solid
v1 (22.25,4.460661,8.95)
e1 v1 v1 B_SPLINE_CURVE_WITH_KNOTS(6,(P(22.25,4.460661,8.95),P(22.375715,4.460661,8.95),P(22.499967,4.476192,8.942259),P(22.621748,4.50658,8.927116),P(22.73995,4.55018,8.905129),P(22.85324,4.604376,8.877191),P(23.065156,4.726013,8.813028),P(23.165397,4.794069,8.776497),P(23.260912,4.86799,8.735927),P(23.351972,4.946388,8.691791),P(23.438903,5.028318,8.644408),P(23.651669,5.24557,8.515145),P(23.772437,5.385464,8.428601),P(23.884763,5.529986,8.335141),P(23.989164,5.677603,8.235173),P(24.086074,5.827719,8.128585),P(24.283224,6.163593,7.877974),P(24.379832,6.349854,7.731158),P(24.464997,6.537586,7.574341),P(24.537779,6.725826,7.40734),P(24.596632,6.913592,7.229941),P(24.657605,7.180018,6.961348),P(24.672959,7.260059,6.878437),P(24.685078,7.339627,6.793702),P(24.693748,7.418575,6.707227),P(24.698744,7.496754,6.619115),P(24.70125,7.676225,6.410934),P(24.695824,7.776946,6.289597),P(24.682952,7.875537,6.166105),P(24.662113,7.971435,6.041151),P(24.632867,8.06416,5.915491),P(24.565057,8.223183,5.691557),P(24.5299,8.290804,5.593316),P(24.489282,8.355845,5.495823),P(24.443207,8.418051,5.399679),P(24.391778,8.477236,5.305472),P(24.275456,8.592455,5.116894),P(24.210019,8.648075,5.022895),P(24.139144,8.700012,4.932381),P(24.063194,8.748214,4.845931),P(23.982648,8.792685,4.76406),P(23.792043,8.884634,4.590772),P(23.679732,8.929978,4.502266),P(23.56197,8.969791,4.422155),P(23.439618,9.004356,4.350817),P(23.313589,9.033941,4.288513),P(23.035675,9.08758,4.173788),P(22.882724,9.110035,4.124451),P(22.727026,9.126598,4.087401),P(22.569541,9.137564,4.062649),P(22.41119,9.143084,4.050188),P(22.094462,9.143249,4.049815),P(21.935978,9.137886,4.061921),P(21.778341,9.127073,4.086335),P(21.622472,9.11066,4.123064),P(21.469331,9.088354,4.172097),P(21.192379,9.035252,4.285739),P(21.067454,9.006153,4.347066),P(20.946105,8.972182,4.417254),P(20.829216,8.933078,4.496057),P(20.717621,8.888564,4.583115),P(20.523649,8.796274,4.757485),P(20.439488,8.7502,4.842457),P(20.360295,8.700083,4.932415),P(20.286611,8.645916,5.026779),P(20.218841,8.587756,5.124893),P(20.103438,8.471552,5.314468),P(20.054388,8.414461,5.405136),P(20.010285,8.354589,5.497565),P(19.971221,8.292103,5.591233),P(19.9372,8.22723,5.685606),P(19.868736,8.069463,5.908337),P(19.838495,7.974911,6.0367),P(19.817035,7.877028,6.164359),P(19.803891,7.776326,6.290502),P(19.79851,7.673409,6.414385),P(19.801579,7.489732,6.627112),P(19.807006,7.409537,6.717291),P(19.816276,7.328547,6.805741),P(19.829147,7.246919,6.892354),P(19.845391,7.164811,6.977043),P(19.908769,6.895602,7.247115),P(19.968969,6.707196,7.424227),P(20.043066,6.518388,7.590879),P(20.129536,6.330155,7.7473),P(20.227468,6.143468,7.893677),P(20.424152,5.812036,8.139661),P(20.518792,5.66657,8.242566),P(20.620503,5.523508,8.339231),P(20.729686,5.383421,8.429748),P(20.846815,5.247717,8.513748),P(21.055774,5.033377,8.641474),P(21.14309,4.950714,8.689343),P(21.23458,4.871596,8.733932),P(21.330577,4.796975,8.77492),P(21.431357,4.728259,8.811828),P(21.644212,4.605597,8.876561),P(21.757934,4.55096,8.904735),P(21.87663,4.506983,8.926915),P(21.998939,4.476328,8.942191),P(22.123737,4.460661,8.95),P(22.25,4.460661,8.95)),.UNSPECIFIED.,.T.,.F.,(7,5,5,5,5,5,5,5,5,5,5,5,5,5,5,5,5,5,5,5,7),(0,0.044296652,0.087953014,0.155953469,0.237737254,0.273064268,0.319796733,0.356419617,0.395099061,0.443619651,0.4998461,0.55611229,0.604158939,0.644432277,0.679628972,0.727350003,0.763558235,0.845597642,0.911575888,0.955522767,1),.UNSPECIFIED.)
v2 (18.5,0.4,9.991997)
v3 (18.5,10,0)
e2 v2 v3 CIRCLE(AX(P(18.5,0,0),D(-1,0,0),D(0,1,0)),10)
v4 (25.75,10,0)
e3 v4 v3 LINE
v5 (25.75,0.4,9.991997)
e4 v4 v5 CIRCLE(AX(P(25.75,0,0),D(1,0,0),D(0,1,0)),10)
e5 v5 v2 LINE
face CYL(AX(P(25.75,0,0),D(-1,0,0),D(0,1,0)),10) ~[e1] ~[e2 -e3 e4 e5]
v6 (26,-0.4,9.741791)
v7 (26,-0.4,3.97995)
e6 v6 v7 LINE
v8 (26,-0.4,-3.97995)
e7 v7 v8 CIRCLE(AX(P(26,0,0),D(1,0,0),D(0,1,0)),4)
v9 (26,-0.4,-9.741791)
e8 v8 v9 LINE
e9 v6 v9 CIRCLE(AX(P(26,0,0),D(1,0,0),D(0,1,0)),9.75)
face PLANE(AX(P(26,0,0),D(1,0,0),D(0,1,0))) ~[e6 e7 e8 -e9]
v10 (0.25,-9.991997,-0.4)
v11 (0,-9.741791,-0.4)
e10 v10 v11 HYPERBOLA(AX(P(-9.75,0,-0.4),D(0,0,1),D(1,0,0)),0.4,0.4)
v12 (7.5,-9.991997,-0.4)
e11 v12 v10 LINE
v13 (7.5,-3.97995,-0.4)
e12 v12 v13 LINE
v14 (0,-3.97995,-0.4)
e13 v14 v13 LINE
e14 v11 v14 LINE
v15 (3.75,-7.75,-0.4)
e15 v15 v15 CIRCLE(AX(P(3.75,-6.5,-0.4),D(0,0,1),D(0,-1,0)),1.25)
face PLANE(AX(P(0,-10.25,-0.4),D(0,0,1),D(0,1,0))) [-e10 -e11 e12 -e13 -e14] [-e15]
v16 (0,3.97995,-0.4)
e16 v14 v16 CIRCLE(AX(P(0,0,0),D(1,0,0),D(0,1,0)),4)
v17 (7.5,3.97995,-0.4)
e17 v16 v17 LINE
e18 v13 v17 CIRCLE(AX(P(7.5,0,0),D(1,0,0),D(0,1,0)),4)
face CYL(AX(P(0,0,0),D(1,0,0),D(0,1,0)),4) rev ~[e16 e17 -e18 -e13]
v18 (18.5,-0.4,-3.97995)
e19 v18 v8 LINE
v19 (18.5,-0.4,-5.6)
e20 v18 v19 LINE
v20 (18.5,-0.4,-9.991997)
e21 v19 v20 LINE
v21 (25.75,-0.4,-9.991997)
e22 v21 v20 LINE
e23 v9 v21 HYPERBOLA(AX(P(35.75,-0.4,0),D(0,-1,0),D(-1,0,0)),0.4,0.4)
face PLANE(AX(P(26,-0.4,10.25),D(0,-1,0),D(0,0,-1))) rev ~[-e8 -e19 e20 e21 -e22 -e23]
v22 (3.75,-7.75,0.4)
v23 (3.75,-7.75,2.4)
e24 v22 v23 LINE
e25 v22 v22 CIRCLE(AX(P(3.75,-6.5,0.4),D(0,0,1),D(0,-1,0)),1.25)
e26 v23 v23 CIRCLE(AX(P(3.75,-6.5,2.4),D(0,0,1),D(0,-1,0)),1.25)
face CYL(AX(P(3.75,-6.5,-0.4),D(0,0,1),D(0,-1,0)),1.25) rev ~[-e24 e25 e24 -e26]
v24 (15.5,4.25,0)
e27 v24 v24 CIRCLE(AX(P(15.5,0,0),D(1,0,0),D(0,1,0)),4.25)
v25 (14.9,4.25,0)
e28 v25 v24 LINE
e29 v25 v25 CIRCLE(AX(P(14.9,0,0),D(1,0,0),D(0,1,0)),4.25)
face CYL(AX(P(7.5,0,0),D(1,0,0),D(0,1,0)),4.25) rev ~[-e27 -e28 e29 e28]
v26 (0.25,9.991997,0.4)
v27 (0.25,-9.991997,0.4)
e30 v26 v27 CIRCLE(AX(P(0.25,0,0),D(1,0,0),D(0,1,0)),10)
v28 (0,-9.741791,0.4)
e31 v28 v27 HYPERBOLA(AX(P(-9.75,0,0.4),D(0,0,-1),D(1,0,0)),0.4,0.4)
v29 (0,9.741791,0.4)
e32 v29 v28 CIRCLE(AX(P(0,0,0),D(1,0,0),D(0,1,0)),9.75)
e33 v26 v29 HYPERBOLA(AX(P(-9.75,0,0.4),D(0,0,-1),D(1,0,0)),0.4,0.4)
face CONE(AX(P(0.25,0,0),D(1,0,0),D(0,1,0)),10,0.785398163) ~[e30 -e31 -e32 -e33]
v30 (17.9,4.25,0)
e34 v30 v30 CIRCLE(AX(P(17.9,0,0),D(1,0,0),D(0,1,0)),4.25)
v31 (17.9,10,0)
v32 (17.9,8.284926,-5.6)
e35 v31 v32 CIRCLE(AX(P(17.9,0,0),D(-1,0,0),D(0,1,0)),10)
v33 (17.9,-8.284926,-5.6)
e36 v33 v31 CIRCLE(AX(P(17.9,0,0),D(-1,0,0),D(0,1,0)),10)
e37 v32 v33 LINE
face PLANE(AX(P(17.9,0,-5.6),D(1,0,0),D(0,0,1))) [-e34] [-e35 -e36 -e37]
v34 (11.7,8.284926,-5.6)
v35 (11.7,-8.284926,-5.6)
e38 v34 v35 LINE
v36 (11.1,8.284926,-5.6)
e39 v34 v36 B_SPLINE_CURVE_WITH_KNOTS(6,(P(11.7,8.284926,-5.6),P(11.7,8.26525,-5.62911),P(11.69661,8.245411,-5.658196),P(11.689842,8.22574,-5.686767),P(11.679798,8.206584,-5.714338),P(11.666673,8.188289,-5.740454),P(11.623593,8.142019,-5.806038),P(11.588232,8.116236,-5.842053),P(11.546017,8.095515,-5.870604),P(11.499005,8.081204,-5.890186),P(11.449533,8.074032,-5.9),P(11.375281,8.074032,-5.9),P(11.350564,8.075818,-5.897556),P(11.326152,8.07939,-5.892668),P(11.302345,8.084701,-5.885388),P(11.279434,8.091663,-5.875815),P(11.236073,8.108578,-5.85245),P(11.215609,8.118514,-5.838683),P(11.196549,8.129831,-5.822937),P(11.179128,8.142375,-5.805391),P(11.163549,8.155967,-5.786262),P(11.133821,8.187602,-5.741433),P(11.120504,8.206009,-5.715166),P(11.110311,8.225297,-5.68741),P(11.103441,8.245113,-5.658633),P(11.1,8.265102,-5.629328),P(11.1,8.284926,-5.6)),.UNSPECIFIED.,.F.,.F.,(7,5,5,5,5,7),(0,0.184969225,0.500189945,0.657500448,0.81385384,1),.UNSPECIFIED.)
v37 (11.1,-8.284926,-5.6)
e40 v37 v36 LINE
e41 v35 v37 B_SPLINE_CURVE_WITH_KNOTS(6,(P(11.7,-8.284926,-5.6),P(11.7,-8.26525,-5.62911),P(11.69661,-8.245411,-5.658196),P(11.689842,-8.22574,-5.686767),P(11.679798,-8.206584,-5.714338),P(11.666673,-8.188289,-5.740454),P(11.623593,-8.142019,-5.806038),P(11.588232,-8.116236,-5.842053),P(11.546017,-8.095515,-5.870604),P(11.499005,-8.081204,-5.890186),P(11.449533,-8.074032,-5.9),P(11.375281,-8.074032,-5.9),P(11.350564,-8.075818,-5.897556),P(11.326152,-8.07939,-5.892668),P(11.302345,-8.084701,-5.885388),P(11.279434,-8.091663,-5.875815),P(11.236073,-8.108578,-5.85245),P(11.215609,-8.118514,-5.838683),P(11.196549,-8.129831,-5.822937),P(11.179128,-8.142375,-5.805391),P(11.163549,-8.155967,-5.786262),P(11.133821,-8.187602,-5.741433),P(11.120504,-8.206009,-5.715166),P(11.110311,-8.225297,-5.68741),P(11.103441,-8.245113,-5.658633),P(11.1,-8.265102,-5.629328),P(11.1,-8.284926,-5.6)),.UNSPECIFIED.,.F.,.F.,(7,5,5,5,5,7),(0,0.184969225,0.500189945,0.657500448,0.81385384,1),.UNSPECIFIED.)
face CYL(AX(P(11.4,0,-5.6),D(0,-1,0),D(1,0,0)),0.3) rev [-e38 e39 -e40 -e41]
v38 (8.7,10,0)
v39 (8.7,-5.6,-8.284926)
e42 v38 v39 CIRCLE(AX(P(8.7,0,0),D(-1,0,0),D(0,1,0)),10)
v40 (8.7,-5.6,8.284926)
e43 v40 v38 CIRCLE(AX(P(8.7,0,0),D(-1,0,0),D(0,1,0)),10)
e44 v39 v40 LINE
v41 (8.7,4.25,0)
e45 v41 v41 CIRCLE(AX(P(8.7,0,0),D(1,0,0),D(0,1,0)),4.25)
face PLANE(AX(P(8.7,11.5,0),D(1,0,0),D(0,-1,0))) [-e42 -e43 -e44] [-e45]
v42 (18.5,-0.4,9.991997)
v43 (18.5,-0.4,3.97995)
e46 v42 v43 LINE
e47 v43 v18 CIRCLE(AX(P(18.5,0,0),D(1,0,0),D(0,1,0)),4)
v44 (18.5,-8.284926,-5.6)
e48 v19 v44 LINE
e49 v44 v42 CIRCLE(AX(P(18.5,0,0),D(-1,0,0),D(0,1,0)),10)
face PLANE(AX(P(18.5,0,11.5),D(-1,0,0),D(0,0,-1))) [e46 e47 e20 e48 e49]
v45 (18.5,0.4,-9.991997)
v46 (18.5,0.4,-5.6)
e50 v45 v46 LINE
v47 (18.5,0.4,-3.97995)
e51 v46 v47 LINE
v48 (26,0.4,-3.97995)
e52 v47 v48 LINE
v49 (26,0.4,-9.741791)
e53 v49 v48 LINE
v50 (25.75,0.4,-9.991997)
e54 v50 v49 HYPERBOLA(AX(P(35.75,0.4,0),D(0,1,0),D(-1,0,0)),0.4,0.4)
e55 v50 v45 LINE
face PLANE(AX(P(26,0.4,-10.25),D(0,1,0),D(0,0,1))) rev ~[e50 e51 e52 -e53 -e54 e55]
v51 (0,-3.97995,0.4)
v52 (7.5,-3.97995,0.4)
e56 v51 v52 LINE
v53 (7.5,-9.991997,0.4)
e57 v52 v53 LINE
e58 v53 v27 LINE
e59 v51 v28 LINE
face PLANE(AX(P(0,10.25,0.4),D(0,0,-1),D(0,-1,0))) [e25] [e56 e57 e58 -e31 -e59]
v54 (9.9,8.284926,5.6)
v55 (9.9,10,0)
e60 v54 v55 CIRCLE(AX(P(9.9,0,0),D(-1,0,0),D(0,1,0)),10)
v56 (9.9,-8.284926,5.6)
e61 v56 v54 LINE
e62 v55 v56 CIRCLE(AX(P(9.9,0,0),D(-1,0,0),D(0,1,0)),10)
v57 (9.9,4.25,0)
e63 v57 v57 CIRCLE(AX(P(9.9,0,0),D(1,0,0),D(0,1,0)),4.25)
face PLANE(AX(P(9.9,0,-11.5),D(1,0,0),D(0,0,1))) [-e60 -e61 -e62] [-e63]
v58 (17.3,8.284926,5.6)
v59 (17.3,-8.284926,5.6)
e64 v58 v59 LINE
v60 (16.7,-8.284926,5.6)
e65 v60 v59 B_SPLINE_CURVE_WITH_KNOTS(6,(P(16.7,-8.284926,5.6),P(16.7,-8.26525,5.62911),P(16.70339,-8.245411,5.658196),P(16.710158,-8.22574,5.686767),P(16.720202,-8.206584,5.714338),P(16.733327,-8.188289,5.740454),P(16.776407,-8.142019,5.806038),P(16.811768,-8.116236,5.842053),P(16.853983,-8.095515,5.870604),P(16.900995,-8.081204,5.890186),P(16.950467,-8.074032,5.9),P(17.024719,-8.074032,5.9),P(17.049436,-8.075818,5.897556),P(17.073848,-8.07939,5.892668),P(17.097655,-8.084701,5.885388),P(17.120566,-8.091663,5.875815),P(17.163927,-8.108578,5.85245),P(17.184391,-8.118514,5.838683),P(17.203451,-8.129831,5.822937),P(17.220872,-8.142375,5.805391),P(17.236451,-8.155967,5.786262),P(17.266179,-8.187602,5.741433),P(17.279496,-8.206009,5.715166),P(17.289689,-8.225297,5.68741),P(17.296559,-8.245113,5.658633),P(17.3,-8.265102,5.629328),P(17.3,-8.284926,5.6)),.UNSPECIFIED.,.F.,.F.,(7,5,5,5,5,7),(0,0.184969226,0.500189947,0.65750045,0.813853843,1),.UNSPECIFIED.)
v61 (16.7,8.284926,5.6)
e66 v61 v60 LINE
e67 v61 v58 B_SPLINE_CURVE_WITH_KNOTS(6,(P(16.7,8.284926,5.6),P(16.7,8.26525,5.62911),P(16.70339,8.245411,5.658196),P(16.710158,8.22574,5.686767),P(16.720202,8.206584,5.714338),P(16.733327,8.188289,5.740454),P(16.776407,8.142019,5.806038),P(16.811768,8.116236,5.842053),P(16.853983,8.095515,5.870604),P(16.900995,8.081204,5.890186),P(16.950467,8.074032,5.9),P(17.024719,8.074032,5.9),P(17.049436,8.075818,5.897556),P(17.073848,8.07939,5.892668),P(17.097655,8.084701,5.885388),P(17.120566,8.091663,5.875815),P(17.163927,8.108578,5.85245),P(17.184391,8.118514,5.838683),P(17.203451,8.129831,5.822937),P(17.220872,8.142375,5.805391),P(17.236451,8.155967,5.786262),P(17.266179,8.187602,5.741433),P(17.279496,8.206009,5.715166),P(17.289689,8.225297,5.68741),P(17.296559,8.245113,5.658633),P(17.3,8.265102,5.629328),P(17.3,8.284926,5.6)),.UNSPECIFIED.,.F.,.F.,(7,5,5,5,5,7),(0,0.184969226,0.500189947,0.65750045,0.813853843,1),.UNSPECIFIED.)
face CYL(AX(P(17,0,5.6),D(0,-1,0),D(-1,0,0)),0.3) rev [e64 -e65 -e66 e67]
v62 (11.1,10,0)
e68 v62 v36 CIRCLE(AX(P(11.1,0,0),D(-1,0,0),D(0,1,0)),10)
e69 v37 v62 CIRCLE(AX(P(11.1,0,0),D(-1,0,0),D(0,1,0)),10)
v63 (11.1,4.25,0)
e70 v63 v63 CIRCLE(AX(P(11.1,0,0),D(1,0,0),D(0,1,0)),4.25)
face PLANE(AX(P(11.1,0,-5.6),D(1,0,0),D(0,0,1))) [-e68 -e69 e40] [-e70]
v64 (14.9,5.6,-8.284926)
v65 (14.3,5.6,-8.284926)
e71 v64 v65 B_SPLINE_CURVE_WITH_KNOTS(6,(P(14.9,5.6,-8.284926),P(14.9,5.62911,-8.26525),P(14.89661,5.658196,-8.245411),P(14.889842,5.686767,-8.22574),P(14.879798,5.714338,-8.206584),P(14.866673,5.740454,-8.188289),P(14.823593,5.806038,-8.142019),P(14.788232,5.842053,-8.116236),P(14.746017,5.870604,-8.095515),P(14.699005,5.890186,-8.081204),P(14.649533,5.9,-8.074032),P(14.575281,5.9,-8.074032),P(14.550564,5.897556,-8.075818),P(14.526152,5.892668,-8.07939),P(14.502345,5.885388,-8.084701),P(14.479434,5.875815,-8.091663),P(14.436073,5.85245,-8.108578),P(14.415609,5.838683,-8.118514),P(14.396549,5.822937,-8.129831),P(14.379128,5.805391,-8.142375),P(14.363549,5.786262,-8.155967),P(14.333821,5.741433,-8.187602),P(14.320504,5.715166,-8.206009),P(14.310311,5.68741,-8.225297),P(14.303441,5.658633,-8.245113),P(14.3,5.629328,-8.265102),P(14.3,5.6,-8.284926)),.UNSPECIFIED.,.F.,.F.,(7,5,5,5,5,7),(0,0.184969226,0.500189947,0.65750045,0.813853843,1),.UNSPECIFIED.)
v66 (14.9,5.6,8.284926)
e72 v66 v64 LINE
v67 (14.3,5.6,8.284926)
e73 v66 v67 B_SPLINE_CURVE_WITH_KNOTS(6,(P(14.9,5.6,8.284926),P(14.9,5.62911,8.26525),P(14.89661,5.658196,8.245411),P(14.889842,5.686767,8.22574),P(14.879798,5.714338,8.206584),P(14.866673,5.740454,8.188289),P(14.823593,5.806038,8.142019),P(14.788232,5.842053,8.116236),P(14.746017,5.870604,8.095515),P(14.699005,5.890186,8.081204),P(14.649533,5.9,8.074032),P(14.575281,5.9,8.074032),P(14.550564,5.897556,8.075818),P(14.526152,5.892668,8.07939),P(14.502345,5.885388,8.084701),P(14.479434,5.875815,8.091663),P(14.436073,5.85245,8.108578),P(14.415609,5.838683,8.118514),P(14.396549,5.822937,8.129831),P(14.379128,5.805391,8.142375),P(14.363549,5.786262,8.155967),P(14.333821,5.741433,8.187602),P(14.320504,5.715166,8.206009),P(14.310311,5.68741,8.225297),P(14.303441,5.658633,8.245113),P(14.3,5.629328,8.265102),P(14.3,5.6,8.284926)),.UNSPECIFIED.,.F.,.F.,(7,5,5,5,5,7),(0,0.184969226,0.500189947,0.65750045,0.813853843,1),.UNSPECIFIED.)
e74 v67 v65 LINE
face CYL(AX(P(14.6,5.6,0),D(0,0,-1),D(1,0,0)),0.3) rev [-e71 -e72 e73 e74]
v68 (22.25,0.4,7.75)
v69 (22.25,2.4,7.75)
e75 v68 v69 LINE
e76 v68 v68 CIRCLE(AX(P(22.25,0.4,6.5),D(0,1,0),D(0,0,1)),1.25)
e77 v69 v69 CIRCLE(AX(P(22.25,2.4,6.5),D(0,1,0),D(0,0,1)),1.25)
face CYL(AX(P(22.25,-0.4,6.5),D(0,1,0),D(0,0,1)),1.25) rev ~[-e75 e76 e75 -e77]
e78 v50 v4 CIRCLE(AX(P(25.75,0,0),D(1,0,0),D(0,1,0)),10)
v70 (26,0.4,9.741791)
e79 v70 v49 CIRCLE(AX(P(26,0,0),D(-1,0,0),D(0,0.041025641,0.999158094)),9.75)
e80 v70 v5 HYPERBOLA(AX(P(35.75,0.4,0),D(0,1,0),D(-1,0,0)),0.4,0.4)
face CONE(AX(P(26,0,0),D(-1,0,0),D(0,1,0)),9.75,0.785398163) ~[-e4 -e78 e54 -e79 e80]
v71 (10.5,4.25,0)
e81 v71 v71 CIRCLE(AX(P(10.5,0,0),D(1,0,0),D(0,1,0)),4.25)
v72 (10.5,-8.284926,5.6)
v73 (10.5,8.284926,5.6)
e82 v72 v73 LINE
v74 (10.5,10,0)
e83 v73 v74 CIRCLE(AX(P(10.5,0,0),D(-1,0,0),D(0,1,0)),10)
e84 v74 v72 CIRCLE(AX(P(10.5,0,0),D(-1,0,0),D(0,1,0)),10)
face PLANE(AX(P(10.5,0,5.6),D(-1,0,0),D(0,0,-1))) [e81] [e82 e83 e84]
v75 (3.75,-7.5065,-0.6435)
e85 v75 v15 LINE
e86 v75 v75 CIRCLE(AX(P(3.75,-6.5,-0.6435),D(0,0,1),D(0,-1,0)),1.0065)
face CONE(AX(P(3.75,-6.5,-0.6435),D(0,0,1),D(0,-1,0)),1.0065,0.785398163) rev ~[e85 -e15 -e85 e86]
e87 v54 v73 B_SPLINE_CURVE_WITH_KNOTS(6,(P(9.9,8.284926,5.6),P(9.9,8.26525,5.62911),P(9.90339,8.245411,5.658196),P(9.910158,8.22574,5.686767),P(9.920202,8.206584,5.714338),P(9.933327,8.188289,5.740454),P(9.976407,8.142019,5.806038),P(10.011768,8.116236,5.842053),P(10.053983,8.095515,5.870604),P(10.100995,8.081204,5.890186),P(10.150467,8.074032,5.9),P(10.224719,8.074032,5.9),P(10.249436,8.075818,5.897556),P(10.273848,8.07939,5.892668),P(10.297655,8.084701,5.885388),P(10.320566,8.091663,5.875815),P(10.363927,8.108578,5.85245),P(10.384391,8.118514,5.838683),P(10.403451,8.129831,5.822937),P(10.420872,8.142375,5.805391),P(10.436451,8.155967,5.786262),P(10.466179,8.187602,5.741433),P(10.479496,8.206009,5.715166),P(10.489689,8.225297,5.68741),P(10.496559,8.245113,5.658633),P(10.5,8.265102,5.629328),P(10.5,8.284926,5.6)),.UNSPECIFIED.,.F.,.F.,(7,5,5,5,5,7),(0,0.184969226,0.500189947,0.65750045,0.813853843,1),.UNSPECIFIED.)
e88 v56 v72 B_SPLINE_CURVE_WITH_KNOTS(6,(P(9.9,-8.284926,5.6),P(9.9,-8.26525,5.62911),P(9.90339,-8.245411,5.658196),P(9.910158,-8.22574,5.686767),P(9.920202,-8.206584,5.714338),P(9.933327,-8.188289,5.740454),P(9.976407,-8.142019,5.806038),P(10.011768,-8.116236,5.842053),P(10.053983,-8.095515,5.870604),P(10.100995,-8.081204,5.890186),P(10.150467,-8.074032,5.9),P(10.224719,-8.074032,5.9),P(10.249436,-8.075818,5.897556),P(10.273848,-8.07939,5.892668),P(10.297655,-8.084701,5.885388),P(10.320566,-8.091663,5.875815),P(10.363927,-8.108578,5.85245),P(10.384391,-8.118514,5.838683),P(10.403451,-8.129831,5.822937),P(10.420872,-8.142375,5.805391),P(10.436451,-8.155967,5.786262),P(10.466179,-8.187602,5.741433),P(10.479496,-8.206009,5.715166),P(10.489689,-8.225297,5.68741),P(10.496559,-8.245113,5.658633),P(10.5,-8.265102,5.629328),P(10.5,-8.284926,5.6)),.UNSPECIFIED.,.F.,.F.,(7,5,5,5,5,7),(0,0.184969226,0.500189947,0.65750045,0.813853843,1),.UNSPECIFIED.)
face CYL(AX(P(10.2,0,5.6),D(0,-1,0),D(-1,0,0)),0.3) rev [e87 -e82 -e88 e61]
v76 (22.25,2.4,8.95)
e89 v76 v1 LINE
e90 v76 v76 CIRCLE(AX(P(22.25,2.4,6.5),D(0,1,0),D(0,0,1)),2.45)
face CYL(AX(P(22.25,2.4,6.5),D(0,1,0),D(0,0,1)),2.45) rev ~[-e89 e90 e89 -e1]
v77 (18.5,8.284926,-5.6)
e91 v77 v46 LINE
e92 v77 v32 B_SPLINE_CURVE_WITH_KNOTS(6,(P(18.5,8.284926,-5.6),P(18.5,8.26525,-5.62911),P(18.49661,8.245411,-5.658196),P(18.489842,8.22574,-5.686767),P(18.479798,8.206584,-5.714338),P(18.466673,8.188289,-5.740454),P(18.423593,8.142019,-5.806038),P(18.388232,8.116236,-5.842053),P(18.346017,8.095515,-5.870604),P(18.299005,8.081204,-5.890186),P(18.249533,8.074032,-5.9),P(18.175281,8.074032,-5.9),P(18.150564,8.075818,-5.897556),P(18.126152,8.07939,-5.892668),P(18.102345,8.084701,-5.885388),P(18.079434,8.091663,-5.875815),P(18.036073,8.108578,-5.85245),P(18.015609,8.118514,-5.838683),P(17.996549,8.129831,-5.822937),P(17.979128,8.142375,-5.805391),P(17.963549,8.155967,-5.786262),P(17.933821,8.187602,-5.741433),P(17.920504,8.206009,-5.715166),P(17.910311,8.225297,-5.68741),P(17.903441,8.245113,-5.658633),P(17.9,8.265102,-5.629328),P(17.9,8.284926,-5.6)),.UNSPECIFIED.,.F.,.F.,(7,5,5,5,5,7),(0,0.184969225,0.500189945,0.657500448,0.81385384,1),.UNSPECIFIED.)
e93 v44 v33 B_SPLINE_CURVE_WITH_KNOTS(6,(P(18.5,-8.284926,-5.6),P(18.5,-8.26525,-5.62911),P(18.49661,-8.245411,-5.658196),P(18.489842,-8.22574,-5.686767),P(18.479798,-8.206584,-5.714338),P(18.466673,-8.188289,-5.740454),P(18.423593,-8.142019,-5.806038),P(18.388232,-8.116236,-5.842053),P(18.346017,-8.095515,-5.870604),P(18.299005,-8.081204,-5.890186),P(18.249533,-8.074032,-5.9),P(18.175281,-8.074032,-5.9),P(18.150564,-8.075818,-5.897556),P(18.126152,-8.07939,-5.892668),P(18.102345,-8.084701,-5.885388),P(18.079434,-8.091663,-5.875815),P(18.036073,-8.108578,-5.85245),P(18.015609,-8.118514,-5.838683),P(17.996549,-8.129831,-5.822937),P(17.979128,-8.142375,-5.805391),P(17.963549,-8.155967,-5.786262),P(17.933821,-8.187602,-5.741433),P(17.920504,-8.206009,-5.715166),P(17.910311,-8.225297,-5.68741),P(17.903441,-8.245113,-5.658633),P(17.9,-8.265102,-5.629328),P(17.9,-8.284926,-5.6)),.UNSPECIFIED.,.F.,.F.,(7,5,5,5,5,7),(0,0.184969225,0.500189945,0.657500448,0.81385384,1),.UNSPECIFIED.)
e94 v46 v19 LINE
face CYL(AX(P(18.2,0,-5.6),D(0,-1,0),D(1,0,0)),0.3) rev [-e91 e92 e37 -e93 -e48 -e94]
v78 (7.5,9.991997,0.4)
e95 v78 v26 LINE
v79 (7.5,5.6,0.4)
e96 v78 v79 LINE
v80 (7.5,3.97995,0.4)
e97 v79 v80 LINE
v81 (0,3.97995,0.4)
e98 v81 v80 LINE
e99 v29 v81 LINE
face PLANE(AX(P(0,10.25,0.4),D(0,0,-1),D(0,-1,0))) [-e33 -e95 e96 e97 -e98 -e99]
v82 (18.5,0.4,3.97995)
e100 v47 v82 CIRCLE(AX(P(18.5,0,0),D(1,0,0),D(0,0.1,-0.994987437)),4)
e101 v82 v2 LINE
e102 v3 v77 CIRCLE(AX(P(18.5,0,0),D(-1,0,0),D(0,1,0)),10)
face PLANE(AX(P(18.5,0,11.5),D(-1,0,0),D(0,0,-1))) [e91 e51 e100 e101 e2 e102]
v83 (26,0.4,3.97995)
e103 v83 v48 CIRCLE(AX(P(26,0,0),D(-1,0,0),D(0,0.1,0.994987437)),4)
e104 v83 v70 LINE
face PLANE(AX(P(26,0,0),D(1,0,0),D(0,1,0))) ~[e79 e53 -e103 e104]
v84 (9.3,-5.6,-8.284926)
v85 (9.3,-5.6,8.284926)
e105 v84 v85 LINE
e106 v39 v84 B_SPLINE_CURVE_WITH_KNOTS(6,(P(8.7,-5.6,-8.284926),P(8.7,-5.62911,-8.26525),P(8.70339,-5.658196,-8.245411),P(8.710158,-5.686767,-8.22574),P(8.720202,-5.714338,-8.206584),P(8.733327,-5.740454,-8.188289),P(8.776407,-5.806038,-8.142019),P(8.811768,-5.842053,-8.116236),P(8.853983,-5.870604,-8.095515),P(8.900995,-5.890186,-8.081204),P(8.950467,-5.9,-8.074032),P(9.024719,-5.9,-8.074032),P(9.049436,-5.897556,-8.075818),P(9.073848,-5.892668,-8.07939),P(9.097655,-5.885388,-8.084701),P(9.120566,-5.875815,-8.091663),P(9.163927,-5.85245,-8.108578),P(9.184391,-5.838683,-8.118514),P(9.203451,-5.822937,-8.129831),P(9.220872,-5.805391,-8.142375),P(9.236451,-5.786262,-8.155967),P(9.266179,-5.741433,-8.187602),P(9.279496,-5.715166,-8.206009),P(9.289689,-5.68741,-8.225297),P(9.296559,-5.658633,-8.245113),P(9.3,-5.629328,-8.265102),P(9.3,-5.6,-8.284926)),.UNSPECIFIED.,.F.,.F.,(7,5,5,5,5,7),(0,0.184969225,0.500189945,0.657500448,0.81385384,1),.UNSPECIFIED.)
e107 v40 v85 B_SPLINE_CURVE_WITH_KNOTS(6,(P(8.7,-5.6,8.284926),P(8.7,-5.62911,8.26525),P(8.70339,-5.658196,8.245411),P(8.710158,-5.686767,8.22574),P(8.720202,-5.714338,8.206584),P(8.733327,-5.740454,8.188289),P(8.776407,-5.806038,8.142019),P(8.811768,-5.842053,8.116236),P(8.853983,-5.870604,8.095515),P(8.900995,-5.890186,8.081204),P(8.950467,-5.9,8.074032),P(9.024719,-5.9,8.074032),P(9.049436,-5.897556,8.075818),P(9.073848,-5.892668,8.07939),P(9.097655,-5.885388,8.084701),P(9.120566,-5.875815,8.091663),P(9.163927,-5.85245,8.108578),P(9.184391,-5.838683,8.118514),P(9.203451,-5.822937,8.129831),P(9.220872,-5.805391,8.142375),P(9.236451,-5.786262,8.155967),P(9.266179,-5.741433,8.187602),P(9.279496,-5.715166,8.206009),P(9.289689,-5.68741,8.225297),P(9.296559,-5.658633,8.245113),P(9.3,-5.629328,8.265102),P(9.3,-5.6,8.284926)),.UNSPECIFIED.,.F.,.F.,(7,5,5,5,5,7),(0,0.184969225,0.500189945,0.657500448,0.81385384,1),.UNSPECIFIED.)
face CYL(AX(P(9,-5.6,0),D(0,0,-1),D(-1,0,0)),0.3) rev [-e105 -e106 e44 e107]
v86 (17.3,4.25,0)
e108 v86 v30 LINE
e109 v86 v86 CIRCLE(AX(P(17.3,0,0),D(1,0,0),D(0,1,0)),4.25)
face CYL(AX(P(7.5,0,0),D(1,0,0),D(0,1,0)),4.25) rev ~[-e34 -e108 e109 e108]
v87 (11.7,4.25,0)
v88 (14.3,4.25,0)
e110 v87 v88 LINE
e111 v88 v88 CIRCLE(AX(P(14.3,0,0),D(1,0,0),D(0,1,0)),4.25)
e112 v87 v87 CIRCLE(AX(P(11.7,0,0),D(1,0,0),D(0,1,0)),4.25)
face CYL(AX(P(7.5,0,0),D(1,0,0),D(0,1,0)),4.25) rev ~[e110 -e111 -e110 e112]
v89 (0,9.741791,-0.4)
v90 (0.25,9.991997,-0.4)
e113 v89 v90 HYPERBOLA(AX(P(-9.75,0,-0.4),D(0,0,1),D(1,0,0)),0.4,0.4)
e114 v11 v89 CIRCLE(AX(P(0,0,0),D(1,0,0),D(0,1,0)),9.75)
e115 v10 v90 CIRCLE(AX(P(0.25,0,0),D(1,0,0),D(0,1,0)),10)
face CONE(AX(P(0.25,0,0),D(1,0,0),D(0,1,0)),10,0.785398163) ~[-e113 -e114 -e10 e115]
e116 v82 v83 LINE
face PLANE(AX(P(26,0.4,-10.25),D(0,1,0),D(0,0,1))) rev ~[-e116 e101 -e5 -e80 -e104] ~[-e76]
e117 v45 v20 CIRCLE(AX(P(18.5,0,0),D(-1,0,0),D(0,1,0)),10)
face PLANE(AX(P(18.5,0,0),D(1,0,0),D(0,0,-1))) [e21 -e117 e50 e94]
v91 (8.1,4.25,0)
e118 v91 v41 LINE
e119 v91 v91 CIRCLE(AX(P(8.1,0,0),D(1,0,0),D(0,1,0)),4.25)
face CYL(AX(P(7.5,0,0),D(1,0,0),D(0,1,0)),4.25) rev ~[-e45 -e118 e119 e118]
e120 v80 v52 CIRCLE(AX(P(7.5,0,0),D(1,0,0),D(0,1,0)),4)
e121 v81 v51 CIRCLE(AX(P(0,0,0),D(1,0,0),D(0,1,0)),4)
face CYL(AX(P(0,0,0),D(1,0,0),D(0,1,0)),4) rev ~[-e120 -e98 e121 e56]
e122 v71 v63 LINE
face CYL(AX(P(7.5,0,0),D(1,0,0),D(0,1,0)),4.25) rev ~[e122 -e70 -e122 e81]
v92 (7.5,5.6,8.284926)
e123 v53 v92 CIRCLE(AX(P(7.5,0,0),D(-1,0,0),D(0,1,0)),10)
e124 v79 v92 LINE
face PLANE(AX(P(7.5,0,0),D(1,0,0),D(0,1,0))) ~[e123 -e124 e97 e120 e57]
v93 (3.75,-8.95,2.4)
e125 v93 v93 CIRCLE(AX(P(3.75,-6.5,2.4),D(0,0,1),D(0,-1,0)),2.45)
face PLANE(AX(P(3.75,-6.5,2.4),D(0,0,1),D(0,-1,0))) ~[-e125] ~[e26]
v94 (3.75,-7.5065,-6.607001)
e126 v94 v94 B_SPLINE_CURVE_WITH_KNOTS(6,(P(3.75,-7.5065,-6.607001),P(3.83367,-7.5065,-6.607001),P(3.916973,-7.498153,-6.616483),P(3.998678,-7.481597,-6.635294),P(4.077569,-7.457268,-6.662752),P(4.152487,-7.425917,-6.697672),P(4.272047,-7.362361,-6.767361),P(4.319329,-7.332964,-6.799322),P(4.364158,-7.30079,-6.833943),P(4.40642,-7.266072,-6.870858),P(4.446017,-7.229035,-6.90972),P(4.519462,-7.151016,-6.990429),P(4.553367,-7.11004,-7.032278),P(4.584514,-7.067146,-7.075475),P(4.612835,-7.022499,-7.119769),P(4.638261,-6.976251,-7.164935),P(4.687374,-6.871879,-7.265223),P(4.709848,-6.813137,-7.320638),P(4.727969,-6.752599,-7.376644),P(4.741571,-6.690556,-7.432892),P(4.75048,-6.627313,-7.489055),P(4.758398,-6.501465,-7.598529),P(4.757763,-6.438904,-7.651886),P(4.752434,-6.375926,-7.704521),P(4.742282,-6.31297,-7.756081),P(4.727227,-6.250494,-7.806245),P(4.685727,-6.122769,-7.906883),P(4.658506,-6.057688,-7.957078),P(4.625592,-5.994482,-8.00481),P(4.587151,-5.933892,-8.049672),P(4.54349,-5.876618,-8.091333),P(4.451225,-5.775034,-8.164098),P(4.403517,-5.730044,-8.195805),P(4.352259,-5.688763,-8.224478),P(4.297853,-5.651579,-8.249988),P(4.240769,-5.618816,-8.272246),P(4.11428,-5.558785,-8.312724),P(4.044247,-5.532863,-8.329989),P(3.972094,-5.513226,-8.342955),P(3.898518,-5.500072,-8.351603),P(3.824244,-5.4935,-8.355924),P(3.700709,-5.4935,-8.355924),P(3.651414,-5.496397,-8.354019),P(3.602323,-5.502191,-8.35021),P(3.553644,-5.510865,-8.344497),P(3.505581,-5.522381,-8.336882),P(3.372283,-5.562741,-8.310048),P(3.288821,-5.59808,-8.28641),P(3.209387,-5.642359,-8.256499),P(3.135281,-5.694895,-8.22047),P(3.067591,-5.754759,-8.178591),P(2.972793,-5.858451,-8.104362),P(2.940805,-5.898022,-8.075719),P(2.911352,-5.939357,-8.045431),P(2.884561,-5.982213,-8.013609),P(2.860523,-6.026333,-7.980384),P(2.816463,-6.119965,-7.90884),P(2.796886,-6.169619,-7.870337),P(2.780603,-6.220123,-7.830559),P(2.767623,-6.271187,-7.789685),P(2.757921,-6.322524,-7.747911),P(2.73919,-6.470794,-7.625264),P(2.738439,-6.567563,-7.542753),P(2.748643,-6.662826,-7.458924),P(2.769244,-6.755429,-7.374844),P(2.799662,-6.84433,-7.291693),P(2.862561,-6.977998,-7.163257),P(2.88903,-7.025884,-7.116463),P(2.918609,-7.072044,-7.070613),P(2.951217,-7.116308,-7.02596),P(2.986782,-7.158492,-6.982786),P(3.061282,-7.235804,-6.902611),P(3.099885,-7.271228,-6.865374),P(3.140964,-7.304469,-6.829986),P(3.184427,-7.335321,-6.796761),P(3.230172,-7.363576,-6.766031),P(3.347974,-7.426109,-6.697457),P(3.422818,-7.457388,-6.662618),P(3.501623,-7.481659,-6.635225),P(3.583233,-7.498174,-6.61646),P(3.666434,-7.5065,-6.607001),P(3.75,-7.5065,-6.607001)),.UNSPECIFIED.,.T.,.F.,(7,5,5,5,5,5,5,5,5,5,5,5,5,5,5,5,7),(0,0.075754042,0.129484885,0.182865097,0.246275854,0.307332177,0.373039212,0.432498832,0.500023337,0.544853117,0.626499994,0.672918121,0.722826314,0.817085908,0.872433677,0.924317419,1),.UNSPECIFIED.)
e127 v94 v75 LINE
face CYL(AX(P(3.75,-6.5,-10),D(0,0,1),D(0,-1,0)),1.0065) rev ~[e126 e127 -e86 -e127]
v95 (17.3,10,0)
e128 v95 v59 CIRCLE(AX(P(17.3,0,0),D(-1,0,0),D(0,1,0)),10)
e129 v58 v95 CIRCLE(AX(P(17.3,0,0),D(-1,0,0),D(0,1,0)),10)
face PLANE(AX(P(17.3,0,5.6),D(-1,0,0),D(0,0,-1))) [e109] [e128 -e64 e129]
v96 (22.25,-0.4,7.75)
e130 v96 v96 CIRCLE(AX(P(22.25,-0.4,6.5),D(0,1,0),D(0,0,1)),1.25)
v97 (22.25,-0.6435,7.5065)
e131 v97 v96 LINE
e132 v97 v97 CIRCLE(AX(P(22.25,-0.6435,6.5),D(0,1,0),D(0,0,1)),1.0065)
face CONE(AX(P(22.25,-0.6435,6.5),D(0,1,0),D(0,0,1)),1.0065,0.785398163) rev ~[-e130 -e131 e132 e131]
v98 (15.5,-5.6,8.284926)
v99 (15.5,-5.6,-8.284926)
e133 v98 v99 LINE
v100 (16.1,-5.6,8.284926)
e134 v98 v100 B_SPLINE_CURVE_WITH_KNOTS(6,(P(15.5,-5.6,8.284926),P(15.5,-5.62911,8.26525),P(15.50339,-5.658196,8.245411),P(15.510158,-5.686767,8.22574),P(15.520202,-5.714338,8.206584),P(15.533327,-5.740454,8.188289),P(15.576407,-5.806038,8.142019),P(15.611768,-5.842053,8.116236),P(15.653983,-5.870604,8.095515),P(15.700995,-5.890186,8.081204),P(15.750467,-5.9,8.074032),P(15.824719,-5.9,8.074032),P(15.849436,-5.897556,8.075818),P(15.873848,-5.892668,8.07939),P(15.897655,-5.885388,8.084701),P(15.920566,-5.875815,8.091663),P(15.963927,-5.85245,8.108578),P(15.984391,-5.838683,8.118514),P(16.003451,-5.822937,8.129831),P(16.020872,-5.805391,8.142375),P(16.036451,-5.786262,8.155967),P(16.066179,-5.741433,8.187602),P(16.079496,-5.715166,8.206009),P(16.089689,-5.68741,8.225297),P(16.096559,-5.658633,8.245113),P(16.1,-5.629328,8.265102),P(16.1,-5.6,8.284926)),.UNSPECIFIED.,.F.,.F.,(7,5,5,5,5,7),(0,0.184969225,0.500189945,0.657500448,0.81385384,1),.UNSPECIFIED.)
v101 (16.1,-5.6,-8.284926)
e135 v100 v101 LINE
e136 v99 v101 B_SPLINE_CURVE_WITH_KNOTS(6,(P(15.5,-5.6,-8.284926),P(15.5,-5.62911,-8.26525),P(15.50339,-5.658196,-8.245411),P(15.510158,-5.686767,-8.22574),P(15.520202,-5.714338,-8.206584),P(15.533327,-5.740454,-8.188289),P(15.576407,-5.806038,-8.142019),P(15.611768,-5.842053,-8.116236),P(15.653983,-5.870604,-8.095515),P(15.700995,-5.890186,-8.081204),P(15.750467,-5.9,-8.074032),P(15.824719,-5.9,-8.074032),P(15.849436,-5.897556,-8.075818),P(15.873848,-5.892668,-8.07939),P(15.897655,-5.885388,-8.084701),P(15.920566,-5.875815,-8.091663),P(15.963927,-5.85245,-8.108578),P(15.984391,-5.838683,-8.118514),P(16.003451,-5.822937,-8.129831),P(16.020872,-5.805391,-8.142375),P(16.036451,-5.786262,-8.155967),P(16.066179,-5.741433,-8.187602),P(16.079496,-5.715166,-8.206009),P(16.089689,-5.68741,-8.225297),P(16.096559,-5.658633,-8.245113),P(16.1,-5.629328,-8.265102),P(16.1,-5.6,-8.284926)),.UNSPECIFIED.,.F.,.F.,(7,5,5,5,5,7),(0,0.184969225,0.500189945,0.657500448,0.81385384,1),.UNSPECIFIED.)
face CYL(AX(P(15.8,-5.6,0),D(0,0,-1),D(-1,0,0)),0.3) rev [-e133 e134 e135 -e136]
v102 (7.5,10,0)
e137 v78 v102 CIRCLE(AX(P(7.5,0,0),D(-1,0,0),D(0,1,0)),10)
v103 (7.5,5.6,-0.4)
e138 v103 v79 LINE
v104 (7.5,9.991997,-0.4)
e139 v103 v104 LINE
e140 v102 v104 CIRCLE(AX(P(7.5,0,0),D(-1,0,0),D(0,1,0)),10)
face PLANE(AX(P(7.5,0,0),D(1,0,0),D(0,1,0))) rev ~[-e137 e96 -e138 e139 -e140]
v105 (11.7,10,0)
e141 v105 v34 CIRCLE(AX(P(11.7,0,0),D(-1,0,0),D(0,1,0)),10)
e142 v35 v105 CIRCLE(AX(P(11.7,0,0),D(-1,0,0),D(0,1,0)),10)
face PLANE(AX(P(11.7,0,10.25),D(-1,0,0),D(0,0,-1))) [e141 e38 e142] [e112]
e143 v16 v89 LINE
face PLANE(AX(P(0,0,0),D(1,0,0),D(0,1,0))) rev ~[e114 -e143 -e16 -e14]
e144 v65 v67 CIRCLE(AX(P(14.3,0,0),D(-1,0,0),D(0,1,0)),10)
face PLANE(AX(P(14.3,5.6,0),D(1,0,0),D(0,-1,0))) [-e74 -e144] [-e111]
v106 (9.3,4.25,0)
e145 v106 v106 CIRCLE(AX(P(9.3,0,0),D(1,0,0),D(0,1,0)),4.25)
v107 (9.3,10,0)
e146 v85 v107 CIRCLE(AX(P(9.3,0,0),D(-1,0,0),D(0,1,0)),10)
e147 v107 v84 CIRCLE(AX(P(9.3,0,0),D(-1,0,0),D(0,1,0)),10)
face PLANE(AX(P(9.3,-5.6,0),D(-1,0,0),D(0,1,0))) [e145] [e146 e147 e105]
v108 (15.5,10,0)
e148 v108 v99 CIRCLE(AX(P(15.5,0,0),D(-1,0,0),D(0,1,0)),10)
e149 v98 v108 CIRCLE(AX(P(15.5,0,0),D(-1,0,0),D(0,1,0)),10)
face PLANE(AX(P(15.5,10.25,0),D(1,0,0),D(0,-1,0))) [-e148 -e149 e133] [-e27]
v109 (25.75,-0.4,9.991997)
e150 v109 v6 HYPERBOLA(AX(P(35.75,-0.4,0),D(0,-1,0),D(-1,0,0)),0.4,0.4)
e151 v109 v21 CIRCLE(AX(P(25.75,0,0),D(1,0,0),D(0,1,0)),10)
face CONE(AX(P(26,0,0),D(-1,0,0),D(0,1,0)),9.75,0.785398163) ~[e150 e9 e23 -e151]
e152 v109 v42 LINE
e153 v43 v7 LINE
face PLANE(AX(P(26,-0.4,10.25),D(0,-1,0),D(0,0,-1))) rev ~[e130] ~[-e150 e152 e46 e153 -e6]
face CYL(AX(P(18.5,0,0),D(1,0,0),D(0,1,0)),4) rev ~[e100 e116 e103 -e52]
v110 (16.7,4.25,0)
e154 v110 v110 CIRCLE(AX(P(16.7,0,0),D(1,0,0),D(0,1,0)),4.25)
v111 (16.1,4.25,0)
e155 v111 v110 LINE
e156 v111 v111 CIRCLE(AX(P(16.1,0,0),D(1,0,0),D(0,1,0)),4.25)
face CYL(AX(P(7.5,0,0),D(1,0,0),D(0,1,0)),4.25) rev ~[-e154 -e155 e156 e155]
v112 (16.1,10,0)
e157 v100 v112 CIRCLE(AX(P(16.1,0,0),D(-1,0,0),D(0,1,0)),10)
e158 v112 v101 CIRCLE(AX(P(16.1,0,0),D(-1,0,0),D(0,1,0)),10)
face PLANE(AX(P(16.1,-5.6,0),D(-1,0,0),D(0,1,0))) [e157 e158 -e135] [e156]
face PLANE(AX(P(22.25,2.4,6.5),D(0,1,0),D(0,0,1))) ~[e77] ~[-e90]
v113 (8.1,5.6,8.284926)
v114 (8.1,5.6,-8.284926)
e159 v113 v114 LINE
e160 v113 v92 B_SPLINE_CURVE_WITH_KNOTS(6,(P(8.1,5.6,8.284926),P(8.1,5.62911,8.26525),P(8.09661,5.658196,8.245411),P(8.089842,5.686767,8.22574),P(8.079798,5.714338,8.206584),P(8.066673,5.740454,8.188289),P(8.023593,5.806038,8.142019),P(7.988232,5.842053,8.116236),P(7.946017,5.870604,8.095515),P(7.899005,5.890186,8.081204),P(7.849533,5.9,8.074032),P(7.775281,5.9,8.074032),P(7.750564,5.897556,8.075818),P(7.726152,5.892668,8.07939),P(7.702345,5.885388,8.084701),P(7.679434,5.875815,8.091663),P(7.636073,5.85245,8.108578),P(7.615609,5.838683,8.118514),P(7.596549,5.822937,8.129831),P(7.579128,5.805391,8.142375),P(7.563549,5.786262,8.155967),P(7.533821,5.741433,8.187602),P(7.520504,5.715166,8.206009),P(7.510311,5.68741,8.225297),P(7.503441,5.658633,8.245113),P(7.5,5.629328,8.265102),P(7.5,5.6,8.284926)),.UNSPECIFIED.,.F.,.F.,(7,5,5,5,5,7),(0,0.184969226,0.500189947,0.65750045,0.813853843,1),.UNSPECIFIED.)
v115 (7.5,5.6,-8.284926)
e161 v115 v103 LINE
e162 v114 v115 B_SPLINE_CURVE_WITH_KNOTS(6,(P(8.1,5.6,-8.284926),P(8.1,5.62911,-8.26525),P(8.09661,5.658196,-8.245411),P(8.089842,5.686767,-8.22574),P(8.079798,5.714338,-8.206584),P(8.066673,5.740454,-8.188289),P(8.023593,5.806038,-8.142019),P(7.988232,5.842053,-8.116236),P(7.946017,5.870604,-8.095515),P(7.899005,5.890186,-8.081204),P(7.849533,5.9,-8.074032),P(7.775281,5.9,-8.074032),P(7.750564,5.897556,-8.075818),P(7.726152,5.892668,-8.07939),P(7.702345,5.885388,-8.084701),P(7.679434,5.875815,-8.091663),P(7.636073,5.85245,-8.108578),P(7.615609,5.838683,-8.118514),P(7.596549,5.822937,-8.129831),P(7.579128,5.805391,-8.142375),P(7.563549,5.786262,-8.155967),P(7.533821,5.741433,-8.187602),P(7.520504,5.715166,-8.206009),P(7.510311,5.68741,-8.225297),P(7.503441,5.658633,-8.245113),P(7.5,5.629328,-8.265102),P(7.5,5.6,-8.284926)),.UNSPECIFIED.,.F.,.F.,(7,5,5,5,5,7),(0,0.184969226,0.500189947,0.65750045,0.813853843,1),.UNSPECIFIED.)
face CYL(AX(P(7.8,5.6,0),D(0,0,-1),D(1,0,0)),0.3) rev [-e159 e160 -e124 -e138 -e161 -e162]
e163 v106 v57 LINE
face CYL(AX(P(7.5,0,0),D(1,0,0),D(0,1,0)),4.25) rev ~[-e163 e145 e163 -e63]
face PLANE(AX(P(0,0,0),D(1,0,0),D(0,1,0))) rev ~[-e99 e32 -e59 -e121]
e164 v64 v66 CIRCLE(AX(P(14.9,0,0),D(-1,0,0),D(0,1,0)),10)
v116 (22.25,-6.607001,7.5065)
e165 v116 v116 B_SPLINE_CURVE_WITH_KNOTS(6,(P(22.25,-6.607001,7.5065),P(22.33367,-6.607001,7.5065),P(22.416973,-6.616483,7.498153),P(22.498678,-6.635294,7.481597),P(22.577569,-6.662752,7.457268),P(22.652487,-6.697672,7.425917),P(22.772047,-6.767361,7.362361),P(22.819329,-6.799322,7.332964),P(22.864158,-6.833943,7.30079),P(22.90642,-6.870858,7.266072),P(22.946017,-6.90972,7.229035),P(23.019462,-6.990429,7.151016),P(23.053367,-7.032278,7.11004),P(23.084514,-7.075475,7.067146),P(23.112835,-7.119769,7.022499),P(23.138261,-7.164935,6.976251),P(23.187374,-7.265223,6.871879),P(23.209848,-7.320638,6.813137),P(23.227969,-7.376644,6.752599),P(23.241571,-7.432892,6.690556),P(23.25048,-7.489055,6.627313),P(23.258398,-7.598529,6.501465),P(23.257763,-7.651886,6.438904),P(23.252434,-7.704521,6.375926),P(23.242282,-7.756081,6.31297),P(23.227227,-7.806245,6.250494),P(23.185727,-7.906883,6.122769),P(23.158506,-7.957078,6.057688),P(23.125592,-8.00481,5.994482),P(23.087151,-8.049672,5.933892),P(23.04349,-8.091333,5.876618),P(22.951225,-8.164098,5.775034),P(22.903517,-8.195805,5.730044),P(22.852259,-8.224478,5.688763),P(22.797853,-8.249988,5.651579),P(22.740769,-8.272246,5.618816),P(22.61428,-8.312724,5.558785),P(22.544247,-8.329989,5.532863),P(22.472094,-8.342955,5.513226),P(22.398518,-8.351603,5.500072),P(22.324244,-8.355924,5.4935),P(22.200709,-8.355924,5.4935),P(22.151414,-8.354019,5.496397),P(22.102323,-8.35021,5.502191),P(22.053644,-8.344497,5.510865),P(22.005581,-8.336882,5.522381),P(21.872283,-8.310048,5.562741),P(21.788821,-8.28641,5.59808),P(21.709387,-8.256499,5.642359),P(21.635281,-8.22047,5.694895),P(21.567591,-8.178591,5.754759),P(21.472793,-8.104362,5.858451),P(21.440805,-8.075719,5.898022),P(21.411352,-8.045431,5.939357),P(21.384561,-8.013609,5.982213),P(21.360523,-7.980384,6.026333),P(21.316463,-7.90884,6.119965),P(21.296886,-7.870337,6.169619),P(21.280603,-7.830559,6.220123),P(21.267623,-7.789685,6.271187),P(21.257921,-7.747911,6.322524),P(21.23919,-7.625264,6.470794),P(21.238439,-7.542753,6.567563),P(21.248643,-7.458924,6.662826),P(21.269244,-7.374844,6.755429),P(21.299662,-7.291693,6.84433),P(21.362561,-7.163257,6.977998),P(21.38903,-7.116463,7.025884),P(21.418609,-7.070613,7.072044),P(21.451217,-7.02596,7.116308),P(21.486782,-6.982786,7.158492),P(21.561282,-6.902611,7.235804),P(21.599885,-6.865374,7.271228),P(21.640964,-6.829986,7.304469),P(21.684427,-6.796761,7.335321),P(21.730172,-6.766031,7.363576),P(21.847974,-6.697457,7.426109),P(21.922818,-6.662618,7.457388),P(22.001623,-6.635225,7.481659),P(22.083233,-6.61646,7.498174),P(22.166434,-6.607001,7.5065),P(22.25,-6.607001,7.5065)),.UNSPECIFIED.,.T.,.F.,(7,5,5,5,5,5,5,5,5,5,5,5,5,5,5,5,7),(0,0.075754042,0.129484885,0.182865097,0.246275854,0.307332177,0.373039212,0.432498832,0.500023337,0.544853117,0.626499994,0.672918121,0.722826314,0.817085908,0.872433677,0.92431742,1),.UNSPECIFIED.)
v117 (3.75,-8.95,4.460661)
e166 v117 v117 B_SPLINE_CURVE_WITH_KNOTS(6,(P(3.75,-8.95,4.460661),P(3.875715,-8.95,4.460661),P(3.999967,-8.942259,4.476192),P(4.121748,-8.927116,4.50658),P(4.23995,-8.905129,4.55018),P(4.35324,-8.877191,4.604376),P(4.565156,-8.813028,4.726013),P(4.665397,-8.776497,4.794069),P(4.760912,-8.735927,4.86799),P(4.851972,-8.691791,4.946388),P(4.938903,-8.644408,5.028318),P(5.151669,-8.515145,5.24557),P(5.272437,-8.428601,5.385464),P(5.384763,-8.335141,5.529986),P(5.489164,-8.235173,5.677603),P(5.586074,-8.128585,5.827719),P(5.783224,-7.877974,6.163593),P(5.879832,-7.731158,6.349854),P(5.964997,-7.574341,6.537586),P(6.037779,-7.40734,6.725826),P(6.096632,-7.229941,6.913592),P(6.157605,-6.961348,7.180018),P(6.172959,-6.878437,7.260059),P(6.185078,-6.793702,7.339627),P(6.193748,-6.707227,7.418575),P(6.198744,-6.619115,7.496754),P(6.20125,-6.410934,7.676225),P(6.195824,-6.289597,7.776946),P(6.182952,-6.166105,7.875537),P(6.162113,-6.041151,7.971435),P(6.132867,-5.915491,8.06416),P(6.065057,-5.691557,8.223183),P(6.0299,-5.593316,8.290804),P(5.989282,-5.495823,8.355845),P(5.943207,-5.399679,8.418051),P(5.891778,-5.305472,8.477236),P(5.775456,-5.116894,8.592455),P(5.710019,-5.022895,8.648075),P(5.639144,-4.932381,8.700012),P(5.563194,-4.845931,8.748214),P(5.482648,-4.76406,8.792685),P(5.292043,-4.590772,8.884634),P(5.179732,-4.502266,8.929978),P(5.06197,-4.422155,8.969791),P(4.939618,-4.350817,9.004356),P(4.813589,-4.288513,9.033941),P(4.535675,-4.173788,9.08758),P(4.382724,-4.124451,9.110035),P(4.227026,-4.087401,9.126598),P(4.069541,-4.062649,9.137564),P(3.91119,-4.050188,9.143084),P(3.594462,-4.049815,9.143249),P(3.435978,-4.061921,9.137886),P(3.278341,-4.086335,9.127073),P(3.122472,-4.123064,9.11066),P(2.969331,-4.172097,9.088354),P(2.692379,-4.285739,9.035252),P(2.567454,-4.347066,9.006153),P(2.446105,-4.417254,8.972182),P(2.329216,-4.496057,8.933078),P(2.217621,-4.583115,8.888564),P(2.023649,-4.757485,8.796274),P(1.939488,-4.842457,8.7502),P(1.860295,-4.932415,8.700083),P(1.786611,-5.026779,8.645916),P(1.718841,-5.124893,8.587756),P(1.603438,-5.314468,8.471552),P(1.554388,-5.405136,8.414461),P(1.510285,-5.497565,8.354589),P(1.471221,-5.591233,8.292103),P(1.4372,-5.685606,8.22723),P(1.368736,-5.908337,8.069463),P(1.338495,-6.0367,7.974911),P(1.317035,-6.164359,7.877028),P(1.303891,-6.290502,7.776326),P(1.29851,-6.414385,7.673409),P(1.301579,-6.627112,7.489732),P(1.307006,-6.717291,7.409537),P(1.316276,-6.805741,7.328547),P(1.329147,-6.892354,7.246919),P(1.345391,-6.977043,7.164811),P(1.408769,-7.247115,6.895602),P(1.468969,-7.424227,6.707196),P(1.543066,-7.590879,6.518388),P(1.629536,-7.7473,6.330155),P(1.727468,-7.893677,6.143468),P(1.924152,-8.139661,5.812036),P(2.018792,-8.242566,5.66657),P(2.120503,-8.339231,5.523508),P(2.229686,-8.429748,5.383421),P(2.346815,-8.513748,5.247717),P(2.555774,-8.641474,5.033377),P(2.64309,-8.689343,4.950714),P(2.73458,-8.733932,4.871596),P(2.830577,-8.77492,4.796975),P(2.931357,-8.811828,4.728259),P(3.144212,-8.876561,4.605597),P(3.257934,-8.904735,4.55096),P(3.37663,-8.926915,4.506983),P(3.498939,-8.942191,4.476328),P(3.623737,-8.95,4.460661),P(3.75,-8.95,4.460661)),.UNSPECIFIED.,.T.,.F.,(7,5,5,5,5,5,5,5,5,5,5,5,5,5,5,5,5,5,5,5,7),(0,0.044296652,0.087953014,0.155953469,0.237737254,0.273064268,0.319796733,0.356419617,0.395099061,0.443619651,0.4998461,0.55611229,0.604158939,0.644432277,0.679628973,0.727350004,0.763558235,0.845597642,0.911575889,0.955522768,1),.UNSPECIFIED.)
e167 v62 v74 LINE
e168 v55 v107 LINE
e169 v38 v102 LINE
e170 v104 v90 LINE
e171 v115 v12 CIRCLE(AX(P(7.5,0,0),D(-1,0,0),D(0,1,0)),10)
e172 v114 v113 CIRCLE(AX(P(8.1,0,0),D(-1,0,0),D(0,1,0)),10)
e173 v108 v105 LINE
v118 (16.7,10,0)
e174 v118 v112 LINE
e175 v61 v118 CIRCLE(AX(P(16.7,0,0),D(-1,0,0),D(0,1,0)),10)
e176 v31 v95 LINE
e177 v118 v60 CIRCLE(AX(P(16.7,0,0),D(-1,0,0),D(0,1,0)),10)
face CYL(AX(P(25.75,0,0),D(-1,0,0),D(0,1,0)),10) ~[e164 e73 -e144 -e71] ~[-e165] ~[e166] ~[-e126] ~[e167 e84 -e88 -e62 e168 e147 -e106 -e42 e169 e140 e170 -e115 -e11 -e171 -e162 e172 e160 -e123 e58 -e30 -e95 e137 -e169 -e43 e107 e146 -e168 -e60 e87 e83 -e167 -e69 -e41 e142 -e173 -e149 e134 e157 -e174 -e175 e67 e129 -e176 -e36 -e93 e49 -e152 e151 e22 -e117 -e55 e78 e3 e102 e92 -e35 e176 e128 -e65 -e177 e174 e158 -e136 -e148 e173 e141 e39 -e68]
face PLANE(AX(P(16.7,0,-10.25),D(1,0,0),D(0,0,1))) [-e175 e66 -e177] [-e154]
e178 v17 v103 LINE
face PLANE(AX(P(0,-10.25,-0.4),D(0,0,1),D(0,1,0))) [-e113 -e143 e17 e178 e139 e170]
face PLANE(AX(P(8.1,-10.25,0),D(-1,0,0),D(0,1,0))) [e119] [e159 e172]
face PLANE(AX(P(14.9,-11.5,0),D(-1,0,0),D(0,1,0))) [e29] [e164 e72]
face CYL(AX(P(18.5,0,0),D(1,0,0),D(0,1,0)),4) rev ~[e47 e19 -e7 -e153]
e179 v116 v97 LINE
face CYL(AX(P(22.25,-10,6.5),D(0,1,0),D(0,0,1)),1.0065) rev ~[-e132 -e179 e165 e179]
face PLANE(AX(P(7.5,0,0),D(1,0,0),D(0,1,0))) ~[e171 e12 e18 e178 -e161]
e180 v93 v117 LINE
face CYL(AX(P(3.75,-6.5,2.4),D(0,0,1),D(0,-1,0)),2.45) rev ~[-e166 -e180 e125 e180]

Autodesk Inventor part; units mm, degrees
sketch "Sketch_1" plane through (0, 0, 0) normal (0, 0, 1) x (1, 0, 0)
  line L0 (26, 0) -> (0, 0)
  line L1 (0, 4) -> (7.5, 4)
  line L2 (7.5, 4) -> (7.5, 4.25)
  line L3 (7.5, 4.25) -> (18.5, 4.25)
  line L4 (18.5, 4.25) -> (18.5, 4)
  line L5 (18.5, 4) -> (26, 4)
  line L6 (26, 4) -> (26, 9.75)
  line L7 (26, 9.75) -> (25.75, 10)
  line L8 (25.75, 10) -> (0.25, 10)
  line L9 (0.25, 10) -> (0, 9.75)
  line L10 (0, 9.75) -> (0, 4)
revolve "Revolution1" add sketch "Sketch_1" angle 360 about axis through (26, 0, 0) along (1, 0, 0)
sketch "Sketch_2" plane through (3.75, 0, 0) normal (1, 0, 0) x (0, 0, -1)
  line L0 (-10, -6.5) -> (10, -6.5)
  line L1 (10, -6.5) -> (10, -7.5065)
  line L2 (10, -7.5065) -> (0.6435, -7.5065)
  line L3 (0.6435, -7.5065) -> (0.4, -7.75)
  line L4 (0.4, -7.75) -> (-2.4, -7.75)
  line L5 (-2.4, -7.75) -> (-2.4, -8.95)
  line L6 (-2.4, -8.95) -> (-10, -8.95)
  line L7 (-10, -8.95) -> (-10, -6.5)
  line L8 (-10, -6.5) -> (10, -6.5)
revolve "Revolution2" cut sketch "Sketch_2" angle 360 about axis through (3.75, -6.5, 10) along (0, 0, 1)
thread "Thread1" size "M2.5x0.45" class "6H" standard "ISO Metric profile" length 4.9565
sketch "Sketch_3" plane through (22.25, 0, 0) normal (1, 0, 0) x (0, 0, -1)
  line L0 (-6.5, 10) -> (-6.5, -10)
  line L1 (-6.5, -10) -> (-7.5065, -10)
  line L2 (-7.5065, -10) -> (-7.5065, -0.6435)
  line L3 (-7.5065, -0.6435) -> (-7.75, -0.4)
  line L4 (-7.75, -0.4) -> (-7.75, 2.4)
  line L5 (-7.75, 2.4) -> (-8.95, 2.4)
  line L6 (-8.95, 2.4) -> (-8.95, 10)
  line L7 (-8.95, 10) -> (-6.5, 10)
  line L8 (-6.5, 10) -> (-6.5, -10)
revolve "Revolution3" cut sketch "Sketch_3" angle 360 about axis through (22.25, 10, 6.5) along (0, 1, 0)
thread "Thread2" size "M2.5x0.45" class "6H" standard "ISO Metric profile" length 4.9565
sketch "Sketch_4" plane through (0, 0, 0) normal (0, 0, 1) x (1, 0, 0)
  line L0 (7.5, 5.6) -> (7.5, -11.5)
  line L1 (7.5, -11.5) -> (14.9, -11.5)
  line L2 (14.9, -11.5) -> (14.9, 5.6)
  arc A0 (14.9, 5.6) -> (14.3, 5.6) centre (14.6, 5.6) ccw
  line L3 (14.3, 5.6) -> (14.3, -10.25)
  line L4 (14.3, -10.25) -> (8.1, -10.25)
  line L5 (8.1, -10.25) -> (8.1, 5.6)
  arc A1 (8.1, 5.6) -> (7.5, 5.6) centre (7.8, 5.6) ccw
extrude "Extrusion1" cut sketch "Sketch_4" along normal mid plane 21
sketch "Sketch_5" plane through (0, 0, 0) normal (0, 0, 1) x (1, 0, 0)
  arc A0 (8.7, -5.6) -> (9.3, -5.6) centre (9, -5.6) ccw
  line L0 (9.3, -5.6) -> (9.3, 10.25)
  line L1 (9.3, 10.25) -> (15.5, 10.25)
  line L2 (15.5, 10.25) -> (15.5, -5.6)
  arc A1 (15.5, -5.6) -> (16.1, -5.6) centre (15.8, -5.6) ccw
  line L3 (16.1, -5.6) -> (16.1, 11.5)
  line L4 (16.1, 11.5) -> (8.7, 11.5)
  line L5 (8.7, 11.5) -> (8.7, -5.6)
extrude "Extrusion2" cut sketch "Sketch_5" along normal mid plane 21
sketch "Sketch_6" plane through (0, 0, 0) normal (0, 1, 0) x (-1, 0, 0)
  line L0 (-11.1, -5.6) -> (-11.1, 11.5)
  line L1 (-11.1, 11.5) -> (-18.5, 11.5)
  line L2 (-18.5, 11.5) -> (-18.5, -5.6)
  arc A0 (-18.5, -5.6) -> (-17.9, -5.6) centre (-18.2, -5.6) ccw
  line L3 (-17.9, -5.6) -> (-17.9, 10.25)
  line L4 (-17.9, 10.25) -> (-11.7, 10.25)
  line L5 (-11.7, 10.25) -> (-11.7, -5.6)
  arc A1 (-11.7, -5.6) -> (-11.1, -5.6) centre (-11.4, -5.6) ccw
extrude "Extrusion3" cut sketch "Sketch_6" along normal mid plane 21
sketch "Sketch_7" plane through (0, 0, 0) normal (0, 1, 0) x (-1, 0, 0)
  arc A0 (-9.9, 5.6) -> (-10.5, 5.6) centre (-10.2, 5.6) ccw
  line L0 (-10.5, 5.6) -> (-10.5, -10.25)
  line L1 (-10.5, -10.25) -> (-16.7, -10.25)
  line L2 (-16.7, -10.25) -> (-16.7, 5.6)
  arc A1 (-16.7, 5.6) -> (-17.3, 5.6) centre (-17, 5.6) ccw
  line L3 (-17.3, 5.6) -> (-17.3, -11.5)
  line L4 (-17.3, -11.5) -> (-9.9, -11.5)
  line L5 (-9.9, -11.5) -> (-9.9, 5.6)
extrude "Extrusion4" cut sketch "Sketch_7" along normal mid plane 21
sketch "Sketch_8" plane through (0, 0, 0) normal (1, 0, 0) x (0, 1, 0)
  line L0 (10.25, 0.4) -> (-10.25, 0.4)
  line L1 (-10.25, 0.4) -> (-10.25, -0.4)
  line L2 (-10.25, -0.4) -> (10.25, -0.4)
  line L3 (10.25, -0.4) -> (10.25, 0.4)
extrude "Extrusion5" cut sketch "Sketch_8" along normal blind 7.5
sketch "Sketch_9" plane through (26, 0, 0) normal (1, 0, 0) x (0, 0, -1)
  line L0 (-10.25, 0.4) -> (-10.25, -0.4)
  line L1 (-10.25, -0.4) -> (10.25, -0.4)
  line L2 (10.25, -0.4) -> (10.25, 0.4)
  line L3 (10.25, 0.4) -> (-10.25, 0.4)
extrude "Extrusion6" cut sketch "Sketch_9" against normal blind 7.5
ref_plane "L1_XY" through (3.75, 6.5, 2.4) normal (0, 0, 1) x (1, 0, 0)
ref_plane "L1_YZ" through (3.75, 6.5, 2.4) normal (1, 0, 0) x (0, 1, 0)
ref_plane "L1_ZX" through (3.75, 6.5, 2.4) normal (0, 1, 0) x (0, 0, 1)
ref_plane "L2_XY" through (3.75, -6.5, 2.4) normal (0, 0, 1) x (1, 0, 0)
ref_plane "L2_YZ" through (3.75, -6.5, 2.4) normal (1, 0, 0) x (0, 1, 0)
ref_plane "L2_ZX" through (3.75, -6.5, 2.4) normal (0, 1, 0) x (0, 0, 1)
ref_plane "R1_XY" through (22.25, 2.4, -6.5) normal (0, 1, 0) x (1, 0, 0)
ref_plane "R1_YZ" through (22.25, 2.4, -6.5) normal (1, 0, 0) x (0, 0, -1)
ref_plane "R1_ZX" through (22.25, 2.4, -6.5) normal (0, 0, -1) x (0, 1, 0)
ref_plane "R2_XY" through (22.25, 2.4, 6.5) normal (0, 1, 0) x (1, 0, 0)
ref_plane "R2_YZ" through (22.25, 2.4, 6.5) normal (1, 0, 0) x (0, 0, -1)
ref_plane "R2_ZX" through (22.25, 2.4, 6.5) normal (0, 0, -1) x (0, 1, 0)
properties part number "CPLSC20-8-8_b" material "アルミニウム 6061"
